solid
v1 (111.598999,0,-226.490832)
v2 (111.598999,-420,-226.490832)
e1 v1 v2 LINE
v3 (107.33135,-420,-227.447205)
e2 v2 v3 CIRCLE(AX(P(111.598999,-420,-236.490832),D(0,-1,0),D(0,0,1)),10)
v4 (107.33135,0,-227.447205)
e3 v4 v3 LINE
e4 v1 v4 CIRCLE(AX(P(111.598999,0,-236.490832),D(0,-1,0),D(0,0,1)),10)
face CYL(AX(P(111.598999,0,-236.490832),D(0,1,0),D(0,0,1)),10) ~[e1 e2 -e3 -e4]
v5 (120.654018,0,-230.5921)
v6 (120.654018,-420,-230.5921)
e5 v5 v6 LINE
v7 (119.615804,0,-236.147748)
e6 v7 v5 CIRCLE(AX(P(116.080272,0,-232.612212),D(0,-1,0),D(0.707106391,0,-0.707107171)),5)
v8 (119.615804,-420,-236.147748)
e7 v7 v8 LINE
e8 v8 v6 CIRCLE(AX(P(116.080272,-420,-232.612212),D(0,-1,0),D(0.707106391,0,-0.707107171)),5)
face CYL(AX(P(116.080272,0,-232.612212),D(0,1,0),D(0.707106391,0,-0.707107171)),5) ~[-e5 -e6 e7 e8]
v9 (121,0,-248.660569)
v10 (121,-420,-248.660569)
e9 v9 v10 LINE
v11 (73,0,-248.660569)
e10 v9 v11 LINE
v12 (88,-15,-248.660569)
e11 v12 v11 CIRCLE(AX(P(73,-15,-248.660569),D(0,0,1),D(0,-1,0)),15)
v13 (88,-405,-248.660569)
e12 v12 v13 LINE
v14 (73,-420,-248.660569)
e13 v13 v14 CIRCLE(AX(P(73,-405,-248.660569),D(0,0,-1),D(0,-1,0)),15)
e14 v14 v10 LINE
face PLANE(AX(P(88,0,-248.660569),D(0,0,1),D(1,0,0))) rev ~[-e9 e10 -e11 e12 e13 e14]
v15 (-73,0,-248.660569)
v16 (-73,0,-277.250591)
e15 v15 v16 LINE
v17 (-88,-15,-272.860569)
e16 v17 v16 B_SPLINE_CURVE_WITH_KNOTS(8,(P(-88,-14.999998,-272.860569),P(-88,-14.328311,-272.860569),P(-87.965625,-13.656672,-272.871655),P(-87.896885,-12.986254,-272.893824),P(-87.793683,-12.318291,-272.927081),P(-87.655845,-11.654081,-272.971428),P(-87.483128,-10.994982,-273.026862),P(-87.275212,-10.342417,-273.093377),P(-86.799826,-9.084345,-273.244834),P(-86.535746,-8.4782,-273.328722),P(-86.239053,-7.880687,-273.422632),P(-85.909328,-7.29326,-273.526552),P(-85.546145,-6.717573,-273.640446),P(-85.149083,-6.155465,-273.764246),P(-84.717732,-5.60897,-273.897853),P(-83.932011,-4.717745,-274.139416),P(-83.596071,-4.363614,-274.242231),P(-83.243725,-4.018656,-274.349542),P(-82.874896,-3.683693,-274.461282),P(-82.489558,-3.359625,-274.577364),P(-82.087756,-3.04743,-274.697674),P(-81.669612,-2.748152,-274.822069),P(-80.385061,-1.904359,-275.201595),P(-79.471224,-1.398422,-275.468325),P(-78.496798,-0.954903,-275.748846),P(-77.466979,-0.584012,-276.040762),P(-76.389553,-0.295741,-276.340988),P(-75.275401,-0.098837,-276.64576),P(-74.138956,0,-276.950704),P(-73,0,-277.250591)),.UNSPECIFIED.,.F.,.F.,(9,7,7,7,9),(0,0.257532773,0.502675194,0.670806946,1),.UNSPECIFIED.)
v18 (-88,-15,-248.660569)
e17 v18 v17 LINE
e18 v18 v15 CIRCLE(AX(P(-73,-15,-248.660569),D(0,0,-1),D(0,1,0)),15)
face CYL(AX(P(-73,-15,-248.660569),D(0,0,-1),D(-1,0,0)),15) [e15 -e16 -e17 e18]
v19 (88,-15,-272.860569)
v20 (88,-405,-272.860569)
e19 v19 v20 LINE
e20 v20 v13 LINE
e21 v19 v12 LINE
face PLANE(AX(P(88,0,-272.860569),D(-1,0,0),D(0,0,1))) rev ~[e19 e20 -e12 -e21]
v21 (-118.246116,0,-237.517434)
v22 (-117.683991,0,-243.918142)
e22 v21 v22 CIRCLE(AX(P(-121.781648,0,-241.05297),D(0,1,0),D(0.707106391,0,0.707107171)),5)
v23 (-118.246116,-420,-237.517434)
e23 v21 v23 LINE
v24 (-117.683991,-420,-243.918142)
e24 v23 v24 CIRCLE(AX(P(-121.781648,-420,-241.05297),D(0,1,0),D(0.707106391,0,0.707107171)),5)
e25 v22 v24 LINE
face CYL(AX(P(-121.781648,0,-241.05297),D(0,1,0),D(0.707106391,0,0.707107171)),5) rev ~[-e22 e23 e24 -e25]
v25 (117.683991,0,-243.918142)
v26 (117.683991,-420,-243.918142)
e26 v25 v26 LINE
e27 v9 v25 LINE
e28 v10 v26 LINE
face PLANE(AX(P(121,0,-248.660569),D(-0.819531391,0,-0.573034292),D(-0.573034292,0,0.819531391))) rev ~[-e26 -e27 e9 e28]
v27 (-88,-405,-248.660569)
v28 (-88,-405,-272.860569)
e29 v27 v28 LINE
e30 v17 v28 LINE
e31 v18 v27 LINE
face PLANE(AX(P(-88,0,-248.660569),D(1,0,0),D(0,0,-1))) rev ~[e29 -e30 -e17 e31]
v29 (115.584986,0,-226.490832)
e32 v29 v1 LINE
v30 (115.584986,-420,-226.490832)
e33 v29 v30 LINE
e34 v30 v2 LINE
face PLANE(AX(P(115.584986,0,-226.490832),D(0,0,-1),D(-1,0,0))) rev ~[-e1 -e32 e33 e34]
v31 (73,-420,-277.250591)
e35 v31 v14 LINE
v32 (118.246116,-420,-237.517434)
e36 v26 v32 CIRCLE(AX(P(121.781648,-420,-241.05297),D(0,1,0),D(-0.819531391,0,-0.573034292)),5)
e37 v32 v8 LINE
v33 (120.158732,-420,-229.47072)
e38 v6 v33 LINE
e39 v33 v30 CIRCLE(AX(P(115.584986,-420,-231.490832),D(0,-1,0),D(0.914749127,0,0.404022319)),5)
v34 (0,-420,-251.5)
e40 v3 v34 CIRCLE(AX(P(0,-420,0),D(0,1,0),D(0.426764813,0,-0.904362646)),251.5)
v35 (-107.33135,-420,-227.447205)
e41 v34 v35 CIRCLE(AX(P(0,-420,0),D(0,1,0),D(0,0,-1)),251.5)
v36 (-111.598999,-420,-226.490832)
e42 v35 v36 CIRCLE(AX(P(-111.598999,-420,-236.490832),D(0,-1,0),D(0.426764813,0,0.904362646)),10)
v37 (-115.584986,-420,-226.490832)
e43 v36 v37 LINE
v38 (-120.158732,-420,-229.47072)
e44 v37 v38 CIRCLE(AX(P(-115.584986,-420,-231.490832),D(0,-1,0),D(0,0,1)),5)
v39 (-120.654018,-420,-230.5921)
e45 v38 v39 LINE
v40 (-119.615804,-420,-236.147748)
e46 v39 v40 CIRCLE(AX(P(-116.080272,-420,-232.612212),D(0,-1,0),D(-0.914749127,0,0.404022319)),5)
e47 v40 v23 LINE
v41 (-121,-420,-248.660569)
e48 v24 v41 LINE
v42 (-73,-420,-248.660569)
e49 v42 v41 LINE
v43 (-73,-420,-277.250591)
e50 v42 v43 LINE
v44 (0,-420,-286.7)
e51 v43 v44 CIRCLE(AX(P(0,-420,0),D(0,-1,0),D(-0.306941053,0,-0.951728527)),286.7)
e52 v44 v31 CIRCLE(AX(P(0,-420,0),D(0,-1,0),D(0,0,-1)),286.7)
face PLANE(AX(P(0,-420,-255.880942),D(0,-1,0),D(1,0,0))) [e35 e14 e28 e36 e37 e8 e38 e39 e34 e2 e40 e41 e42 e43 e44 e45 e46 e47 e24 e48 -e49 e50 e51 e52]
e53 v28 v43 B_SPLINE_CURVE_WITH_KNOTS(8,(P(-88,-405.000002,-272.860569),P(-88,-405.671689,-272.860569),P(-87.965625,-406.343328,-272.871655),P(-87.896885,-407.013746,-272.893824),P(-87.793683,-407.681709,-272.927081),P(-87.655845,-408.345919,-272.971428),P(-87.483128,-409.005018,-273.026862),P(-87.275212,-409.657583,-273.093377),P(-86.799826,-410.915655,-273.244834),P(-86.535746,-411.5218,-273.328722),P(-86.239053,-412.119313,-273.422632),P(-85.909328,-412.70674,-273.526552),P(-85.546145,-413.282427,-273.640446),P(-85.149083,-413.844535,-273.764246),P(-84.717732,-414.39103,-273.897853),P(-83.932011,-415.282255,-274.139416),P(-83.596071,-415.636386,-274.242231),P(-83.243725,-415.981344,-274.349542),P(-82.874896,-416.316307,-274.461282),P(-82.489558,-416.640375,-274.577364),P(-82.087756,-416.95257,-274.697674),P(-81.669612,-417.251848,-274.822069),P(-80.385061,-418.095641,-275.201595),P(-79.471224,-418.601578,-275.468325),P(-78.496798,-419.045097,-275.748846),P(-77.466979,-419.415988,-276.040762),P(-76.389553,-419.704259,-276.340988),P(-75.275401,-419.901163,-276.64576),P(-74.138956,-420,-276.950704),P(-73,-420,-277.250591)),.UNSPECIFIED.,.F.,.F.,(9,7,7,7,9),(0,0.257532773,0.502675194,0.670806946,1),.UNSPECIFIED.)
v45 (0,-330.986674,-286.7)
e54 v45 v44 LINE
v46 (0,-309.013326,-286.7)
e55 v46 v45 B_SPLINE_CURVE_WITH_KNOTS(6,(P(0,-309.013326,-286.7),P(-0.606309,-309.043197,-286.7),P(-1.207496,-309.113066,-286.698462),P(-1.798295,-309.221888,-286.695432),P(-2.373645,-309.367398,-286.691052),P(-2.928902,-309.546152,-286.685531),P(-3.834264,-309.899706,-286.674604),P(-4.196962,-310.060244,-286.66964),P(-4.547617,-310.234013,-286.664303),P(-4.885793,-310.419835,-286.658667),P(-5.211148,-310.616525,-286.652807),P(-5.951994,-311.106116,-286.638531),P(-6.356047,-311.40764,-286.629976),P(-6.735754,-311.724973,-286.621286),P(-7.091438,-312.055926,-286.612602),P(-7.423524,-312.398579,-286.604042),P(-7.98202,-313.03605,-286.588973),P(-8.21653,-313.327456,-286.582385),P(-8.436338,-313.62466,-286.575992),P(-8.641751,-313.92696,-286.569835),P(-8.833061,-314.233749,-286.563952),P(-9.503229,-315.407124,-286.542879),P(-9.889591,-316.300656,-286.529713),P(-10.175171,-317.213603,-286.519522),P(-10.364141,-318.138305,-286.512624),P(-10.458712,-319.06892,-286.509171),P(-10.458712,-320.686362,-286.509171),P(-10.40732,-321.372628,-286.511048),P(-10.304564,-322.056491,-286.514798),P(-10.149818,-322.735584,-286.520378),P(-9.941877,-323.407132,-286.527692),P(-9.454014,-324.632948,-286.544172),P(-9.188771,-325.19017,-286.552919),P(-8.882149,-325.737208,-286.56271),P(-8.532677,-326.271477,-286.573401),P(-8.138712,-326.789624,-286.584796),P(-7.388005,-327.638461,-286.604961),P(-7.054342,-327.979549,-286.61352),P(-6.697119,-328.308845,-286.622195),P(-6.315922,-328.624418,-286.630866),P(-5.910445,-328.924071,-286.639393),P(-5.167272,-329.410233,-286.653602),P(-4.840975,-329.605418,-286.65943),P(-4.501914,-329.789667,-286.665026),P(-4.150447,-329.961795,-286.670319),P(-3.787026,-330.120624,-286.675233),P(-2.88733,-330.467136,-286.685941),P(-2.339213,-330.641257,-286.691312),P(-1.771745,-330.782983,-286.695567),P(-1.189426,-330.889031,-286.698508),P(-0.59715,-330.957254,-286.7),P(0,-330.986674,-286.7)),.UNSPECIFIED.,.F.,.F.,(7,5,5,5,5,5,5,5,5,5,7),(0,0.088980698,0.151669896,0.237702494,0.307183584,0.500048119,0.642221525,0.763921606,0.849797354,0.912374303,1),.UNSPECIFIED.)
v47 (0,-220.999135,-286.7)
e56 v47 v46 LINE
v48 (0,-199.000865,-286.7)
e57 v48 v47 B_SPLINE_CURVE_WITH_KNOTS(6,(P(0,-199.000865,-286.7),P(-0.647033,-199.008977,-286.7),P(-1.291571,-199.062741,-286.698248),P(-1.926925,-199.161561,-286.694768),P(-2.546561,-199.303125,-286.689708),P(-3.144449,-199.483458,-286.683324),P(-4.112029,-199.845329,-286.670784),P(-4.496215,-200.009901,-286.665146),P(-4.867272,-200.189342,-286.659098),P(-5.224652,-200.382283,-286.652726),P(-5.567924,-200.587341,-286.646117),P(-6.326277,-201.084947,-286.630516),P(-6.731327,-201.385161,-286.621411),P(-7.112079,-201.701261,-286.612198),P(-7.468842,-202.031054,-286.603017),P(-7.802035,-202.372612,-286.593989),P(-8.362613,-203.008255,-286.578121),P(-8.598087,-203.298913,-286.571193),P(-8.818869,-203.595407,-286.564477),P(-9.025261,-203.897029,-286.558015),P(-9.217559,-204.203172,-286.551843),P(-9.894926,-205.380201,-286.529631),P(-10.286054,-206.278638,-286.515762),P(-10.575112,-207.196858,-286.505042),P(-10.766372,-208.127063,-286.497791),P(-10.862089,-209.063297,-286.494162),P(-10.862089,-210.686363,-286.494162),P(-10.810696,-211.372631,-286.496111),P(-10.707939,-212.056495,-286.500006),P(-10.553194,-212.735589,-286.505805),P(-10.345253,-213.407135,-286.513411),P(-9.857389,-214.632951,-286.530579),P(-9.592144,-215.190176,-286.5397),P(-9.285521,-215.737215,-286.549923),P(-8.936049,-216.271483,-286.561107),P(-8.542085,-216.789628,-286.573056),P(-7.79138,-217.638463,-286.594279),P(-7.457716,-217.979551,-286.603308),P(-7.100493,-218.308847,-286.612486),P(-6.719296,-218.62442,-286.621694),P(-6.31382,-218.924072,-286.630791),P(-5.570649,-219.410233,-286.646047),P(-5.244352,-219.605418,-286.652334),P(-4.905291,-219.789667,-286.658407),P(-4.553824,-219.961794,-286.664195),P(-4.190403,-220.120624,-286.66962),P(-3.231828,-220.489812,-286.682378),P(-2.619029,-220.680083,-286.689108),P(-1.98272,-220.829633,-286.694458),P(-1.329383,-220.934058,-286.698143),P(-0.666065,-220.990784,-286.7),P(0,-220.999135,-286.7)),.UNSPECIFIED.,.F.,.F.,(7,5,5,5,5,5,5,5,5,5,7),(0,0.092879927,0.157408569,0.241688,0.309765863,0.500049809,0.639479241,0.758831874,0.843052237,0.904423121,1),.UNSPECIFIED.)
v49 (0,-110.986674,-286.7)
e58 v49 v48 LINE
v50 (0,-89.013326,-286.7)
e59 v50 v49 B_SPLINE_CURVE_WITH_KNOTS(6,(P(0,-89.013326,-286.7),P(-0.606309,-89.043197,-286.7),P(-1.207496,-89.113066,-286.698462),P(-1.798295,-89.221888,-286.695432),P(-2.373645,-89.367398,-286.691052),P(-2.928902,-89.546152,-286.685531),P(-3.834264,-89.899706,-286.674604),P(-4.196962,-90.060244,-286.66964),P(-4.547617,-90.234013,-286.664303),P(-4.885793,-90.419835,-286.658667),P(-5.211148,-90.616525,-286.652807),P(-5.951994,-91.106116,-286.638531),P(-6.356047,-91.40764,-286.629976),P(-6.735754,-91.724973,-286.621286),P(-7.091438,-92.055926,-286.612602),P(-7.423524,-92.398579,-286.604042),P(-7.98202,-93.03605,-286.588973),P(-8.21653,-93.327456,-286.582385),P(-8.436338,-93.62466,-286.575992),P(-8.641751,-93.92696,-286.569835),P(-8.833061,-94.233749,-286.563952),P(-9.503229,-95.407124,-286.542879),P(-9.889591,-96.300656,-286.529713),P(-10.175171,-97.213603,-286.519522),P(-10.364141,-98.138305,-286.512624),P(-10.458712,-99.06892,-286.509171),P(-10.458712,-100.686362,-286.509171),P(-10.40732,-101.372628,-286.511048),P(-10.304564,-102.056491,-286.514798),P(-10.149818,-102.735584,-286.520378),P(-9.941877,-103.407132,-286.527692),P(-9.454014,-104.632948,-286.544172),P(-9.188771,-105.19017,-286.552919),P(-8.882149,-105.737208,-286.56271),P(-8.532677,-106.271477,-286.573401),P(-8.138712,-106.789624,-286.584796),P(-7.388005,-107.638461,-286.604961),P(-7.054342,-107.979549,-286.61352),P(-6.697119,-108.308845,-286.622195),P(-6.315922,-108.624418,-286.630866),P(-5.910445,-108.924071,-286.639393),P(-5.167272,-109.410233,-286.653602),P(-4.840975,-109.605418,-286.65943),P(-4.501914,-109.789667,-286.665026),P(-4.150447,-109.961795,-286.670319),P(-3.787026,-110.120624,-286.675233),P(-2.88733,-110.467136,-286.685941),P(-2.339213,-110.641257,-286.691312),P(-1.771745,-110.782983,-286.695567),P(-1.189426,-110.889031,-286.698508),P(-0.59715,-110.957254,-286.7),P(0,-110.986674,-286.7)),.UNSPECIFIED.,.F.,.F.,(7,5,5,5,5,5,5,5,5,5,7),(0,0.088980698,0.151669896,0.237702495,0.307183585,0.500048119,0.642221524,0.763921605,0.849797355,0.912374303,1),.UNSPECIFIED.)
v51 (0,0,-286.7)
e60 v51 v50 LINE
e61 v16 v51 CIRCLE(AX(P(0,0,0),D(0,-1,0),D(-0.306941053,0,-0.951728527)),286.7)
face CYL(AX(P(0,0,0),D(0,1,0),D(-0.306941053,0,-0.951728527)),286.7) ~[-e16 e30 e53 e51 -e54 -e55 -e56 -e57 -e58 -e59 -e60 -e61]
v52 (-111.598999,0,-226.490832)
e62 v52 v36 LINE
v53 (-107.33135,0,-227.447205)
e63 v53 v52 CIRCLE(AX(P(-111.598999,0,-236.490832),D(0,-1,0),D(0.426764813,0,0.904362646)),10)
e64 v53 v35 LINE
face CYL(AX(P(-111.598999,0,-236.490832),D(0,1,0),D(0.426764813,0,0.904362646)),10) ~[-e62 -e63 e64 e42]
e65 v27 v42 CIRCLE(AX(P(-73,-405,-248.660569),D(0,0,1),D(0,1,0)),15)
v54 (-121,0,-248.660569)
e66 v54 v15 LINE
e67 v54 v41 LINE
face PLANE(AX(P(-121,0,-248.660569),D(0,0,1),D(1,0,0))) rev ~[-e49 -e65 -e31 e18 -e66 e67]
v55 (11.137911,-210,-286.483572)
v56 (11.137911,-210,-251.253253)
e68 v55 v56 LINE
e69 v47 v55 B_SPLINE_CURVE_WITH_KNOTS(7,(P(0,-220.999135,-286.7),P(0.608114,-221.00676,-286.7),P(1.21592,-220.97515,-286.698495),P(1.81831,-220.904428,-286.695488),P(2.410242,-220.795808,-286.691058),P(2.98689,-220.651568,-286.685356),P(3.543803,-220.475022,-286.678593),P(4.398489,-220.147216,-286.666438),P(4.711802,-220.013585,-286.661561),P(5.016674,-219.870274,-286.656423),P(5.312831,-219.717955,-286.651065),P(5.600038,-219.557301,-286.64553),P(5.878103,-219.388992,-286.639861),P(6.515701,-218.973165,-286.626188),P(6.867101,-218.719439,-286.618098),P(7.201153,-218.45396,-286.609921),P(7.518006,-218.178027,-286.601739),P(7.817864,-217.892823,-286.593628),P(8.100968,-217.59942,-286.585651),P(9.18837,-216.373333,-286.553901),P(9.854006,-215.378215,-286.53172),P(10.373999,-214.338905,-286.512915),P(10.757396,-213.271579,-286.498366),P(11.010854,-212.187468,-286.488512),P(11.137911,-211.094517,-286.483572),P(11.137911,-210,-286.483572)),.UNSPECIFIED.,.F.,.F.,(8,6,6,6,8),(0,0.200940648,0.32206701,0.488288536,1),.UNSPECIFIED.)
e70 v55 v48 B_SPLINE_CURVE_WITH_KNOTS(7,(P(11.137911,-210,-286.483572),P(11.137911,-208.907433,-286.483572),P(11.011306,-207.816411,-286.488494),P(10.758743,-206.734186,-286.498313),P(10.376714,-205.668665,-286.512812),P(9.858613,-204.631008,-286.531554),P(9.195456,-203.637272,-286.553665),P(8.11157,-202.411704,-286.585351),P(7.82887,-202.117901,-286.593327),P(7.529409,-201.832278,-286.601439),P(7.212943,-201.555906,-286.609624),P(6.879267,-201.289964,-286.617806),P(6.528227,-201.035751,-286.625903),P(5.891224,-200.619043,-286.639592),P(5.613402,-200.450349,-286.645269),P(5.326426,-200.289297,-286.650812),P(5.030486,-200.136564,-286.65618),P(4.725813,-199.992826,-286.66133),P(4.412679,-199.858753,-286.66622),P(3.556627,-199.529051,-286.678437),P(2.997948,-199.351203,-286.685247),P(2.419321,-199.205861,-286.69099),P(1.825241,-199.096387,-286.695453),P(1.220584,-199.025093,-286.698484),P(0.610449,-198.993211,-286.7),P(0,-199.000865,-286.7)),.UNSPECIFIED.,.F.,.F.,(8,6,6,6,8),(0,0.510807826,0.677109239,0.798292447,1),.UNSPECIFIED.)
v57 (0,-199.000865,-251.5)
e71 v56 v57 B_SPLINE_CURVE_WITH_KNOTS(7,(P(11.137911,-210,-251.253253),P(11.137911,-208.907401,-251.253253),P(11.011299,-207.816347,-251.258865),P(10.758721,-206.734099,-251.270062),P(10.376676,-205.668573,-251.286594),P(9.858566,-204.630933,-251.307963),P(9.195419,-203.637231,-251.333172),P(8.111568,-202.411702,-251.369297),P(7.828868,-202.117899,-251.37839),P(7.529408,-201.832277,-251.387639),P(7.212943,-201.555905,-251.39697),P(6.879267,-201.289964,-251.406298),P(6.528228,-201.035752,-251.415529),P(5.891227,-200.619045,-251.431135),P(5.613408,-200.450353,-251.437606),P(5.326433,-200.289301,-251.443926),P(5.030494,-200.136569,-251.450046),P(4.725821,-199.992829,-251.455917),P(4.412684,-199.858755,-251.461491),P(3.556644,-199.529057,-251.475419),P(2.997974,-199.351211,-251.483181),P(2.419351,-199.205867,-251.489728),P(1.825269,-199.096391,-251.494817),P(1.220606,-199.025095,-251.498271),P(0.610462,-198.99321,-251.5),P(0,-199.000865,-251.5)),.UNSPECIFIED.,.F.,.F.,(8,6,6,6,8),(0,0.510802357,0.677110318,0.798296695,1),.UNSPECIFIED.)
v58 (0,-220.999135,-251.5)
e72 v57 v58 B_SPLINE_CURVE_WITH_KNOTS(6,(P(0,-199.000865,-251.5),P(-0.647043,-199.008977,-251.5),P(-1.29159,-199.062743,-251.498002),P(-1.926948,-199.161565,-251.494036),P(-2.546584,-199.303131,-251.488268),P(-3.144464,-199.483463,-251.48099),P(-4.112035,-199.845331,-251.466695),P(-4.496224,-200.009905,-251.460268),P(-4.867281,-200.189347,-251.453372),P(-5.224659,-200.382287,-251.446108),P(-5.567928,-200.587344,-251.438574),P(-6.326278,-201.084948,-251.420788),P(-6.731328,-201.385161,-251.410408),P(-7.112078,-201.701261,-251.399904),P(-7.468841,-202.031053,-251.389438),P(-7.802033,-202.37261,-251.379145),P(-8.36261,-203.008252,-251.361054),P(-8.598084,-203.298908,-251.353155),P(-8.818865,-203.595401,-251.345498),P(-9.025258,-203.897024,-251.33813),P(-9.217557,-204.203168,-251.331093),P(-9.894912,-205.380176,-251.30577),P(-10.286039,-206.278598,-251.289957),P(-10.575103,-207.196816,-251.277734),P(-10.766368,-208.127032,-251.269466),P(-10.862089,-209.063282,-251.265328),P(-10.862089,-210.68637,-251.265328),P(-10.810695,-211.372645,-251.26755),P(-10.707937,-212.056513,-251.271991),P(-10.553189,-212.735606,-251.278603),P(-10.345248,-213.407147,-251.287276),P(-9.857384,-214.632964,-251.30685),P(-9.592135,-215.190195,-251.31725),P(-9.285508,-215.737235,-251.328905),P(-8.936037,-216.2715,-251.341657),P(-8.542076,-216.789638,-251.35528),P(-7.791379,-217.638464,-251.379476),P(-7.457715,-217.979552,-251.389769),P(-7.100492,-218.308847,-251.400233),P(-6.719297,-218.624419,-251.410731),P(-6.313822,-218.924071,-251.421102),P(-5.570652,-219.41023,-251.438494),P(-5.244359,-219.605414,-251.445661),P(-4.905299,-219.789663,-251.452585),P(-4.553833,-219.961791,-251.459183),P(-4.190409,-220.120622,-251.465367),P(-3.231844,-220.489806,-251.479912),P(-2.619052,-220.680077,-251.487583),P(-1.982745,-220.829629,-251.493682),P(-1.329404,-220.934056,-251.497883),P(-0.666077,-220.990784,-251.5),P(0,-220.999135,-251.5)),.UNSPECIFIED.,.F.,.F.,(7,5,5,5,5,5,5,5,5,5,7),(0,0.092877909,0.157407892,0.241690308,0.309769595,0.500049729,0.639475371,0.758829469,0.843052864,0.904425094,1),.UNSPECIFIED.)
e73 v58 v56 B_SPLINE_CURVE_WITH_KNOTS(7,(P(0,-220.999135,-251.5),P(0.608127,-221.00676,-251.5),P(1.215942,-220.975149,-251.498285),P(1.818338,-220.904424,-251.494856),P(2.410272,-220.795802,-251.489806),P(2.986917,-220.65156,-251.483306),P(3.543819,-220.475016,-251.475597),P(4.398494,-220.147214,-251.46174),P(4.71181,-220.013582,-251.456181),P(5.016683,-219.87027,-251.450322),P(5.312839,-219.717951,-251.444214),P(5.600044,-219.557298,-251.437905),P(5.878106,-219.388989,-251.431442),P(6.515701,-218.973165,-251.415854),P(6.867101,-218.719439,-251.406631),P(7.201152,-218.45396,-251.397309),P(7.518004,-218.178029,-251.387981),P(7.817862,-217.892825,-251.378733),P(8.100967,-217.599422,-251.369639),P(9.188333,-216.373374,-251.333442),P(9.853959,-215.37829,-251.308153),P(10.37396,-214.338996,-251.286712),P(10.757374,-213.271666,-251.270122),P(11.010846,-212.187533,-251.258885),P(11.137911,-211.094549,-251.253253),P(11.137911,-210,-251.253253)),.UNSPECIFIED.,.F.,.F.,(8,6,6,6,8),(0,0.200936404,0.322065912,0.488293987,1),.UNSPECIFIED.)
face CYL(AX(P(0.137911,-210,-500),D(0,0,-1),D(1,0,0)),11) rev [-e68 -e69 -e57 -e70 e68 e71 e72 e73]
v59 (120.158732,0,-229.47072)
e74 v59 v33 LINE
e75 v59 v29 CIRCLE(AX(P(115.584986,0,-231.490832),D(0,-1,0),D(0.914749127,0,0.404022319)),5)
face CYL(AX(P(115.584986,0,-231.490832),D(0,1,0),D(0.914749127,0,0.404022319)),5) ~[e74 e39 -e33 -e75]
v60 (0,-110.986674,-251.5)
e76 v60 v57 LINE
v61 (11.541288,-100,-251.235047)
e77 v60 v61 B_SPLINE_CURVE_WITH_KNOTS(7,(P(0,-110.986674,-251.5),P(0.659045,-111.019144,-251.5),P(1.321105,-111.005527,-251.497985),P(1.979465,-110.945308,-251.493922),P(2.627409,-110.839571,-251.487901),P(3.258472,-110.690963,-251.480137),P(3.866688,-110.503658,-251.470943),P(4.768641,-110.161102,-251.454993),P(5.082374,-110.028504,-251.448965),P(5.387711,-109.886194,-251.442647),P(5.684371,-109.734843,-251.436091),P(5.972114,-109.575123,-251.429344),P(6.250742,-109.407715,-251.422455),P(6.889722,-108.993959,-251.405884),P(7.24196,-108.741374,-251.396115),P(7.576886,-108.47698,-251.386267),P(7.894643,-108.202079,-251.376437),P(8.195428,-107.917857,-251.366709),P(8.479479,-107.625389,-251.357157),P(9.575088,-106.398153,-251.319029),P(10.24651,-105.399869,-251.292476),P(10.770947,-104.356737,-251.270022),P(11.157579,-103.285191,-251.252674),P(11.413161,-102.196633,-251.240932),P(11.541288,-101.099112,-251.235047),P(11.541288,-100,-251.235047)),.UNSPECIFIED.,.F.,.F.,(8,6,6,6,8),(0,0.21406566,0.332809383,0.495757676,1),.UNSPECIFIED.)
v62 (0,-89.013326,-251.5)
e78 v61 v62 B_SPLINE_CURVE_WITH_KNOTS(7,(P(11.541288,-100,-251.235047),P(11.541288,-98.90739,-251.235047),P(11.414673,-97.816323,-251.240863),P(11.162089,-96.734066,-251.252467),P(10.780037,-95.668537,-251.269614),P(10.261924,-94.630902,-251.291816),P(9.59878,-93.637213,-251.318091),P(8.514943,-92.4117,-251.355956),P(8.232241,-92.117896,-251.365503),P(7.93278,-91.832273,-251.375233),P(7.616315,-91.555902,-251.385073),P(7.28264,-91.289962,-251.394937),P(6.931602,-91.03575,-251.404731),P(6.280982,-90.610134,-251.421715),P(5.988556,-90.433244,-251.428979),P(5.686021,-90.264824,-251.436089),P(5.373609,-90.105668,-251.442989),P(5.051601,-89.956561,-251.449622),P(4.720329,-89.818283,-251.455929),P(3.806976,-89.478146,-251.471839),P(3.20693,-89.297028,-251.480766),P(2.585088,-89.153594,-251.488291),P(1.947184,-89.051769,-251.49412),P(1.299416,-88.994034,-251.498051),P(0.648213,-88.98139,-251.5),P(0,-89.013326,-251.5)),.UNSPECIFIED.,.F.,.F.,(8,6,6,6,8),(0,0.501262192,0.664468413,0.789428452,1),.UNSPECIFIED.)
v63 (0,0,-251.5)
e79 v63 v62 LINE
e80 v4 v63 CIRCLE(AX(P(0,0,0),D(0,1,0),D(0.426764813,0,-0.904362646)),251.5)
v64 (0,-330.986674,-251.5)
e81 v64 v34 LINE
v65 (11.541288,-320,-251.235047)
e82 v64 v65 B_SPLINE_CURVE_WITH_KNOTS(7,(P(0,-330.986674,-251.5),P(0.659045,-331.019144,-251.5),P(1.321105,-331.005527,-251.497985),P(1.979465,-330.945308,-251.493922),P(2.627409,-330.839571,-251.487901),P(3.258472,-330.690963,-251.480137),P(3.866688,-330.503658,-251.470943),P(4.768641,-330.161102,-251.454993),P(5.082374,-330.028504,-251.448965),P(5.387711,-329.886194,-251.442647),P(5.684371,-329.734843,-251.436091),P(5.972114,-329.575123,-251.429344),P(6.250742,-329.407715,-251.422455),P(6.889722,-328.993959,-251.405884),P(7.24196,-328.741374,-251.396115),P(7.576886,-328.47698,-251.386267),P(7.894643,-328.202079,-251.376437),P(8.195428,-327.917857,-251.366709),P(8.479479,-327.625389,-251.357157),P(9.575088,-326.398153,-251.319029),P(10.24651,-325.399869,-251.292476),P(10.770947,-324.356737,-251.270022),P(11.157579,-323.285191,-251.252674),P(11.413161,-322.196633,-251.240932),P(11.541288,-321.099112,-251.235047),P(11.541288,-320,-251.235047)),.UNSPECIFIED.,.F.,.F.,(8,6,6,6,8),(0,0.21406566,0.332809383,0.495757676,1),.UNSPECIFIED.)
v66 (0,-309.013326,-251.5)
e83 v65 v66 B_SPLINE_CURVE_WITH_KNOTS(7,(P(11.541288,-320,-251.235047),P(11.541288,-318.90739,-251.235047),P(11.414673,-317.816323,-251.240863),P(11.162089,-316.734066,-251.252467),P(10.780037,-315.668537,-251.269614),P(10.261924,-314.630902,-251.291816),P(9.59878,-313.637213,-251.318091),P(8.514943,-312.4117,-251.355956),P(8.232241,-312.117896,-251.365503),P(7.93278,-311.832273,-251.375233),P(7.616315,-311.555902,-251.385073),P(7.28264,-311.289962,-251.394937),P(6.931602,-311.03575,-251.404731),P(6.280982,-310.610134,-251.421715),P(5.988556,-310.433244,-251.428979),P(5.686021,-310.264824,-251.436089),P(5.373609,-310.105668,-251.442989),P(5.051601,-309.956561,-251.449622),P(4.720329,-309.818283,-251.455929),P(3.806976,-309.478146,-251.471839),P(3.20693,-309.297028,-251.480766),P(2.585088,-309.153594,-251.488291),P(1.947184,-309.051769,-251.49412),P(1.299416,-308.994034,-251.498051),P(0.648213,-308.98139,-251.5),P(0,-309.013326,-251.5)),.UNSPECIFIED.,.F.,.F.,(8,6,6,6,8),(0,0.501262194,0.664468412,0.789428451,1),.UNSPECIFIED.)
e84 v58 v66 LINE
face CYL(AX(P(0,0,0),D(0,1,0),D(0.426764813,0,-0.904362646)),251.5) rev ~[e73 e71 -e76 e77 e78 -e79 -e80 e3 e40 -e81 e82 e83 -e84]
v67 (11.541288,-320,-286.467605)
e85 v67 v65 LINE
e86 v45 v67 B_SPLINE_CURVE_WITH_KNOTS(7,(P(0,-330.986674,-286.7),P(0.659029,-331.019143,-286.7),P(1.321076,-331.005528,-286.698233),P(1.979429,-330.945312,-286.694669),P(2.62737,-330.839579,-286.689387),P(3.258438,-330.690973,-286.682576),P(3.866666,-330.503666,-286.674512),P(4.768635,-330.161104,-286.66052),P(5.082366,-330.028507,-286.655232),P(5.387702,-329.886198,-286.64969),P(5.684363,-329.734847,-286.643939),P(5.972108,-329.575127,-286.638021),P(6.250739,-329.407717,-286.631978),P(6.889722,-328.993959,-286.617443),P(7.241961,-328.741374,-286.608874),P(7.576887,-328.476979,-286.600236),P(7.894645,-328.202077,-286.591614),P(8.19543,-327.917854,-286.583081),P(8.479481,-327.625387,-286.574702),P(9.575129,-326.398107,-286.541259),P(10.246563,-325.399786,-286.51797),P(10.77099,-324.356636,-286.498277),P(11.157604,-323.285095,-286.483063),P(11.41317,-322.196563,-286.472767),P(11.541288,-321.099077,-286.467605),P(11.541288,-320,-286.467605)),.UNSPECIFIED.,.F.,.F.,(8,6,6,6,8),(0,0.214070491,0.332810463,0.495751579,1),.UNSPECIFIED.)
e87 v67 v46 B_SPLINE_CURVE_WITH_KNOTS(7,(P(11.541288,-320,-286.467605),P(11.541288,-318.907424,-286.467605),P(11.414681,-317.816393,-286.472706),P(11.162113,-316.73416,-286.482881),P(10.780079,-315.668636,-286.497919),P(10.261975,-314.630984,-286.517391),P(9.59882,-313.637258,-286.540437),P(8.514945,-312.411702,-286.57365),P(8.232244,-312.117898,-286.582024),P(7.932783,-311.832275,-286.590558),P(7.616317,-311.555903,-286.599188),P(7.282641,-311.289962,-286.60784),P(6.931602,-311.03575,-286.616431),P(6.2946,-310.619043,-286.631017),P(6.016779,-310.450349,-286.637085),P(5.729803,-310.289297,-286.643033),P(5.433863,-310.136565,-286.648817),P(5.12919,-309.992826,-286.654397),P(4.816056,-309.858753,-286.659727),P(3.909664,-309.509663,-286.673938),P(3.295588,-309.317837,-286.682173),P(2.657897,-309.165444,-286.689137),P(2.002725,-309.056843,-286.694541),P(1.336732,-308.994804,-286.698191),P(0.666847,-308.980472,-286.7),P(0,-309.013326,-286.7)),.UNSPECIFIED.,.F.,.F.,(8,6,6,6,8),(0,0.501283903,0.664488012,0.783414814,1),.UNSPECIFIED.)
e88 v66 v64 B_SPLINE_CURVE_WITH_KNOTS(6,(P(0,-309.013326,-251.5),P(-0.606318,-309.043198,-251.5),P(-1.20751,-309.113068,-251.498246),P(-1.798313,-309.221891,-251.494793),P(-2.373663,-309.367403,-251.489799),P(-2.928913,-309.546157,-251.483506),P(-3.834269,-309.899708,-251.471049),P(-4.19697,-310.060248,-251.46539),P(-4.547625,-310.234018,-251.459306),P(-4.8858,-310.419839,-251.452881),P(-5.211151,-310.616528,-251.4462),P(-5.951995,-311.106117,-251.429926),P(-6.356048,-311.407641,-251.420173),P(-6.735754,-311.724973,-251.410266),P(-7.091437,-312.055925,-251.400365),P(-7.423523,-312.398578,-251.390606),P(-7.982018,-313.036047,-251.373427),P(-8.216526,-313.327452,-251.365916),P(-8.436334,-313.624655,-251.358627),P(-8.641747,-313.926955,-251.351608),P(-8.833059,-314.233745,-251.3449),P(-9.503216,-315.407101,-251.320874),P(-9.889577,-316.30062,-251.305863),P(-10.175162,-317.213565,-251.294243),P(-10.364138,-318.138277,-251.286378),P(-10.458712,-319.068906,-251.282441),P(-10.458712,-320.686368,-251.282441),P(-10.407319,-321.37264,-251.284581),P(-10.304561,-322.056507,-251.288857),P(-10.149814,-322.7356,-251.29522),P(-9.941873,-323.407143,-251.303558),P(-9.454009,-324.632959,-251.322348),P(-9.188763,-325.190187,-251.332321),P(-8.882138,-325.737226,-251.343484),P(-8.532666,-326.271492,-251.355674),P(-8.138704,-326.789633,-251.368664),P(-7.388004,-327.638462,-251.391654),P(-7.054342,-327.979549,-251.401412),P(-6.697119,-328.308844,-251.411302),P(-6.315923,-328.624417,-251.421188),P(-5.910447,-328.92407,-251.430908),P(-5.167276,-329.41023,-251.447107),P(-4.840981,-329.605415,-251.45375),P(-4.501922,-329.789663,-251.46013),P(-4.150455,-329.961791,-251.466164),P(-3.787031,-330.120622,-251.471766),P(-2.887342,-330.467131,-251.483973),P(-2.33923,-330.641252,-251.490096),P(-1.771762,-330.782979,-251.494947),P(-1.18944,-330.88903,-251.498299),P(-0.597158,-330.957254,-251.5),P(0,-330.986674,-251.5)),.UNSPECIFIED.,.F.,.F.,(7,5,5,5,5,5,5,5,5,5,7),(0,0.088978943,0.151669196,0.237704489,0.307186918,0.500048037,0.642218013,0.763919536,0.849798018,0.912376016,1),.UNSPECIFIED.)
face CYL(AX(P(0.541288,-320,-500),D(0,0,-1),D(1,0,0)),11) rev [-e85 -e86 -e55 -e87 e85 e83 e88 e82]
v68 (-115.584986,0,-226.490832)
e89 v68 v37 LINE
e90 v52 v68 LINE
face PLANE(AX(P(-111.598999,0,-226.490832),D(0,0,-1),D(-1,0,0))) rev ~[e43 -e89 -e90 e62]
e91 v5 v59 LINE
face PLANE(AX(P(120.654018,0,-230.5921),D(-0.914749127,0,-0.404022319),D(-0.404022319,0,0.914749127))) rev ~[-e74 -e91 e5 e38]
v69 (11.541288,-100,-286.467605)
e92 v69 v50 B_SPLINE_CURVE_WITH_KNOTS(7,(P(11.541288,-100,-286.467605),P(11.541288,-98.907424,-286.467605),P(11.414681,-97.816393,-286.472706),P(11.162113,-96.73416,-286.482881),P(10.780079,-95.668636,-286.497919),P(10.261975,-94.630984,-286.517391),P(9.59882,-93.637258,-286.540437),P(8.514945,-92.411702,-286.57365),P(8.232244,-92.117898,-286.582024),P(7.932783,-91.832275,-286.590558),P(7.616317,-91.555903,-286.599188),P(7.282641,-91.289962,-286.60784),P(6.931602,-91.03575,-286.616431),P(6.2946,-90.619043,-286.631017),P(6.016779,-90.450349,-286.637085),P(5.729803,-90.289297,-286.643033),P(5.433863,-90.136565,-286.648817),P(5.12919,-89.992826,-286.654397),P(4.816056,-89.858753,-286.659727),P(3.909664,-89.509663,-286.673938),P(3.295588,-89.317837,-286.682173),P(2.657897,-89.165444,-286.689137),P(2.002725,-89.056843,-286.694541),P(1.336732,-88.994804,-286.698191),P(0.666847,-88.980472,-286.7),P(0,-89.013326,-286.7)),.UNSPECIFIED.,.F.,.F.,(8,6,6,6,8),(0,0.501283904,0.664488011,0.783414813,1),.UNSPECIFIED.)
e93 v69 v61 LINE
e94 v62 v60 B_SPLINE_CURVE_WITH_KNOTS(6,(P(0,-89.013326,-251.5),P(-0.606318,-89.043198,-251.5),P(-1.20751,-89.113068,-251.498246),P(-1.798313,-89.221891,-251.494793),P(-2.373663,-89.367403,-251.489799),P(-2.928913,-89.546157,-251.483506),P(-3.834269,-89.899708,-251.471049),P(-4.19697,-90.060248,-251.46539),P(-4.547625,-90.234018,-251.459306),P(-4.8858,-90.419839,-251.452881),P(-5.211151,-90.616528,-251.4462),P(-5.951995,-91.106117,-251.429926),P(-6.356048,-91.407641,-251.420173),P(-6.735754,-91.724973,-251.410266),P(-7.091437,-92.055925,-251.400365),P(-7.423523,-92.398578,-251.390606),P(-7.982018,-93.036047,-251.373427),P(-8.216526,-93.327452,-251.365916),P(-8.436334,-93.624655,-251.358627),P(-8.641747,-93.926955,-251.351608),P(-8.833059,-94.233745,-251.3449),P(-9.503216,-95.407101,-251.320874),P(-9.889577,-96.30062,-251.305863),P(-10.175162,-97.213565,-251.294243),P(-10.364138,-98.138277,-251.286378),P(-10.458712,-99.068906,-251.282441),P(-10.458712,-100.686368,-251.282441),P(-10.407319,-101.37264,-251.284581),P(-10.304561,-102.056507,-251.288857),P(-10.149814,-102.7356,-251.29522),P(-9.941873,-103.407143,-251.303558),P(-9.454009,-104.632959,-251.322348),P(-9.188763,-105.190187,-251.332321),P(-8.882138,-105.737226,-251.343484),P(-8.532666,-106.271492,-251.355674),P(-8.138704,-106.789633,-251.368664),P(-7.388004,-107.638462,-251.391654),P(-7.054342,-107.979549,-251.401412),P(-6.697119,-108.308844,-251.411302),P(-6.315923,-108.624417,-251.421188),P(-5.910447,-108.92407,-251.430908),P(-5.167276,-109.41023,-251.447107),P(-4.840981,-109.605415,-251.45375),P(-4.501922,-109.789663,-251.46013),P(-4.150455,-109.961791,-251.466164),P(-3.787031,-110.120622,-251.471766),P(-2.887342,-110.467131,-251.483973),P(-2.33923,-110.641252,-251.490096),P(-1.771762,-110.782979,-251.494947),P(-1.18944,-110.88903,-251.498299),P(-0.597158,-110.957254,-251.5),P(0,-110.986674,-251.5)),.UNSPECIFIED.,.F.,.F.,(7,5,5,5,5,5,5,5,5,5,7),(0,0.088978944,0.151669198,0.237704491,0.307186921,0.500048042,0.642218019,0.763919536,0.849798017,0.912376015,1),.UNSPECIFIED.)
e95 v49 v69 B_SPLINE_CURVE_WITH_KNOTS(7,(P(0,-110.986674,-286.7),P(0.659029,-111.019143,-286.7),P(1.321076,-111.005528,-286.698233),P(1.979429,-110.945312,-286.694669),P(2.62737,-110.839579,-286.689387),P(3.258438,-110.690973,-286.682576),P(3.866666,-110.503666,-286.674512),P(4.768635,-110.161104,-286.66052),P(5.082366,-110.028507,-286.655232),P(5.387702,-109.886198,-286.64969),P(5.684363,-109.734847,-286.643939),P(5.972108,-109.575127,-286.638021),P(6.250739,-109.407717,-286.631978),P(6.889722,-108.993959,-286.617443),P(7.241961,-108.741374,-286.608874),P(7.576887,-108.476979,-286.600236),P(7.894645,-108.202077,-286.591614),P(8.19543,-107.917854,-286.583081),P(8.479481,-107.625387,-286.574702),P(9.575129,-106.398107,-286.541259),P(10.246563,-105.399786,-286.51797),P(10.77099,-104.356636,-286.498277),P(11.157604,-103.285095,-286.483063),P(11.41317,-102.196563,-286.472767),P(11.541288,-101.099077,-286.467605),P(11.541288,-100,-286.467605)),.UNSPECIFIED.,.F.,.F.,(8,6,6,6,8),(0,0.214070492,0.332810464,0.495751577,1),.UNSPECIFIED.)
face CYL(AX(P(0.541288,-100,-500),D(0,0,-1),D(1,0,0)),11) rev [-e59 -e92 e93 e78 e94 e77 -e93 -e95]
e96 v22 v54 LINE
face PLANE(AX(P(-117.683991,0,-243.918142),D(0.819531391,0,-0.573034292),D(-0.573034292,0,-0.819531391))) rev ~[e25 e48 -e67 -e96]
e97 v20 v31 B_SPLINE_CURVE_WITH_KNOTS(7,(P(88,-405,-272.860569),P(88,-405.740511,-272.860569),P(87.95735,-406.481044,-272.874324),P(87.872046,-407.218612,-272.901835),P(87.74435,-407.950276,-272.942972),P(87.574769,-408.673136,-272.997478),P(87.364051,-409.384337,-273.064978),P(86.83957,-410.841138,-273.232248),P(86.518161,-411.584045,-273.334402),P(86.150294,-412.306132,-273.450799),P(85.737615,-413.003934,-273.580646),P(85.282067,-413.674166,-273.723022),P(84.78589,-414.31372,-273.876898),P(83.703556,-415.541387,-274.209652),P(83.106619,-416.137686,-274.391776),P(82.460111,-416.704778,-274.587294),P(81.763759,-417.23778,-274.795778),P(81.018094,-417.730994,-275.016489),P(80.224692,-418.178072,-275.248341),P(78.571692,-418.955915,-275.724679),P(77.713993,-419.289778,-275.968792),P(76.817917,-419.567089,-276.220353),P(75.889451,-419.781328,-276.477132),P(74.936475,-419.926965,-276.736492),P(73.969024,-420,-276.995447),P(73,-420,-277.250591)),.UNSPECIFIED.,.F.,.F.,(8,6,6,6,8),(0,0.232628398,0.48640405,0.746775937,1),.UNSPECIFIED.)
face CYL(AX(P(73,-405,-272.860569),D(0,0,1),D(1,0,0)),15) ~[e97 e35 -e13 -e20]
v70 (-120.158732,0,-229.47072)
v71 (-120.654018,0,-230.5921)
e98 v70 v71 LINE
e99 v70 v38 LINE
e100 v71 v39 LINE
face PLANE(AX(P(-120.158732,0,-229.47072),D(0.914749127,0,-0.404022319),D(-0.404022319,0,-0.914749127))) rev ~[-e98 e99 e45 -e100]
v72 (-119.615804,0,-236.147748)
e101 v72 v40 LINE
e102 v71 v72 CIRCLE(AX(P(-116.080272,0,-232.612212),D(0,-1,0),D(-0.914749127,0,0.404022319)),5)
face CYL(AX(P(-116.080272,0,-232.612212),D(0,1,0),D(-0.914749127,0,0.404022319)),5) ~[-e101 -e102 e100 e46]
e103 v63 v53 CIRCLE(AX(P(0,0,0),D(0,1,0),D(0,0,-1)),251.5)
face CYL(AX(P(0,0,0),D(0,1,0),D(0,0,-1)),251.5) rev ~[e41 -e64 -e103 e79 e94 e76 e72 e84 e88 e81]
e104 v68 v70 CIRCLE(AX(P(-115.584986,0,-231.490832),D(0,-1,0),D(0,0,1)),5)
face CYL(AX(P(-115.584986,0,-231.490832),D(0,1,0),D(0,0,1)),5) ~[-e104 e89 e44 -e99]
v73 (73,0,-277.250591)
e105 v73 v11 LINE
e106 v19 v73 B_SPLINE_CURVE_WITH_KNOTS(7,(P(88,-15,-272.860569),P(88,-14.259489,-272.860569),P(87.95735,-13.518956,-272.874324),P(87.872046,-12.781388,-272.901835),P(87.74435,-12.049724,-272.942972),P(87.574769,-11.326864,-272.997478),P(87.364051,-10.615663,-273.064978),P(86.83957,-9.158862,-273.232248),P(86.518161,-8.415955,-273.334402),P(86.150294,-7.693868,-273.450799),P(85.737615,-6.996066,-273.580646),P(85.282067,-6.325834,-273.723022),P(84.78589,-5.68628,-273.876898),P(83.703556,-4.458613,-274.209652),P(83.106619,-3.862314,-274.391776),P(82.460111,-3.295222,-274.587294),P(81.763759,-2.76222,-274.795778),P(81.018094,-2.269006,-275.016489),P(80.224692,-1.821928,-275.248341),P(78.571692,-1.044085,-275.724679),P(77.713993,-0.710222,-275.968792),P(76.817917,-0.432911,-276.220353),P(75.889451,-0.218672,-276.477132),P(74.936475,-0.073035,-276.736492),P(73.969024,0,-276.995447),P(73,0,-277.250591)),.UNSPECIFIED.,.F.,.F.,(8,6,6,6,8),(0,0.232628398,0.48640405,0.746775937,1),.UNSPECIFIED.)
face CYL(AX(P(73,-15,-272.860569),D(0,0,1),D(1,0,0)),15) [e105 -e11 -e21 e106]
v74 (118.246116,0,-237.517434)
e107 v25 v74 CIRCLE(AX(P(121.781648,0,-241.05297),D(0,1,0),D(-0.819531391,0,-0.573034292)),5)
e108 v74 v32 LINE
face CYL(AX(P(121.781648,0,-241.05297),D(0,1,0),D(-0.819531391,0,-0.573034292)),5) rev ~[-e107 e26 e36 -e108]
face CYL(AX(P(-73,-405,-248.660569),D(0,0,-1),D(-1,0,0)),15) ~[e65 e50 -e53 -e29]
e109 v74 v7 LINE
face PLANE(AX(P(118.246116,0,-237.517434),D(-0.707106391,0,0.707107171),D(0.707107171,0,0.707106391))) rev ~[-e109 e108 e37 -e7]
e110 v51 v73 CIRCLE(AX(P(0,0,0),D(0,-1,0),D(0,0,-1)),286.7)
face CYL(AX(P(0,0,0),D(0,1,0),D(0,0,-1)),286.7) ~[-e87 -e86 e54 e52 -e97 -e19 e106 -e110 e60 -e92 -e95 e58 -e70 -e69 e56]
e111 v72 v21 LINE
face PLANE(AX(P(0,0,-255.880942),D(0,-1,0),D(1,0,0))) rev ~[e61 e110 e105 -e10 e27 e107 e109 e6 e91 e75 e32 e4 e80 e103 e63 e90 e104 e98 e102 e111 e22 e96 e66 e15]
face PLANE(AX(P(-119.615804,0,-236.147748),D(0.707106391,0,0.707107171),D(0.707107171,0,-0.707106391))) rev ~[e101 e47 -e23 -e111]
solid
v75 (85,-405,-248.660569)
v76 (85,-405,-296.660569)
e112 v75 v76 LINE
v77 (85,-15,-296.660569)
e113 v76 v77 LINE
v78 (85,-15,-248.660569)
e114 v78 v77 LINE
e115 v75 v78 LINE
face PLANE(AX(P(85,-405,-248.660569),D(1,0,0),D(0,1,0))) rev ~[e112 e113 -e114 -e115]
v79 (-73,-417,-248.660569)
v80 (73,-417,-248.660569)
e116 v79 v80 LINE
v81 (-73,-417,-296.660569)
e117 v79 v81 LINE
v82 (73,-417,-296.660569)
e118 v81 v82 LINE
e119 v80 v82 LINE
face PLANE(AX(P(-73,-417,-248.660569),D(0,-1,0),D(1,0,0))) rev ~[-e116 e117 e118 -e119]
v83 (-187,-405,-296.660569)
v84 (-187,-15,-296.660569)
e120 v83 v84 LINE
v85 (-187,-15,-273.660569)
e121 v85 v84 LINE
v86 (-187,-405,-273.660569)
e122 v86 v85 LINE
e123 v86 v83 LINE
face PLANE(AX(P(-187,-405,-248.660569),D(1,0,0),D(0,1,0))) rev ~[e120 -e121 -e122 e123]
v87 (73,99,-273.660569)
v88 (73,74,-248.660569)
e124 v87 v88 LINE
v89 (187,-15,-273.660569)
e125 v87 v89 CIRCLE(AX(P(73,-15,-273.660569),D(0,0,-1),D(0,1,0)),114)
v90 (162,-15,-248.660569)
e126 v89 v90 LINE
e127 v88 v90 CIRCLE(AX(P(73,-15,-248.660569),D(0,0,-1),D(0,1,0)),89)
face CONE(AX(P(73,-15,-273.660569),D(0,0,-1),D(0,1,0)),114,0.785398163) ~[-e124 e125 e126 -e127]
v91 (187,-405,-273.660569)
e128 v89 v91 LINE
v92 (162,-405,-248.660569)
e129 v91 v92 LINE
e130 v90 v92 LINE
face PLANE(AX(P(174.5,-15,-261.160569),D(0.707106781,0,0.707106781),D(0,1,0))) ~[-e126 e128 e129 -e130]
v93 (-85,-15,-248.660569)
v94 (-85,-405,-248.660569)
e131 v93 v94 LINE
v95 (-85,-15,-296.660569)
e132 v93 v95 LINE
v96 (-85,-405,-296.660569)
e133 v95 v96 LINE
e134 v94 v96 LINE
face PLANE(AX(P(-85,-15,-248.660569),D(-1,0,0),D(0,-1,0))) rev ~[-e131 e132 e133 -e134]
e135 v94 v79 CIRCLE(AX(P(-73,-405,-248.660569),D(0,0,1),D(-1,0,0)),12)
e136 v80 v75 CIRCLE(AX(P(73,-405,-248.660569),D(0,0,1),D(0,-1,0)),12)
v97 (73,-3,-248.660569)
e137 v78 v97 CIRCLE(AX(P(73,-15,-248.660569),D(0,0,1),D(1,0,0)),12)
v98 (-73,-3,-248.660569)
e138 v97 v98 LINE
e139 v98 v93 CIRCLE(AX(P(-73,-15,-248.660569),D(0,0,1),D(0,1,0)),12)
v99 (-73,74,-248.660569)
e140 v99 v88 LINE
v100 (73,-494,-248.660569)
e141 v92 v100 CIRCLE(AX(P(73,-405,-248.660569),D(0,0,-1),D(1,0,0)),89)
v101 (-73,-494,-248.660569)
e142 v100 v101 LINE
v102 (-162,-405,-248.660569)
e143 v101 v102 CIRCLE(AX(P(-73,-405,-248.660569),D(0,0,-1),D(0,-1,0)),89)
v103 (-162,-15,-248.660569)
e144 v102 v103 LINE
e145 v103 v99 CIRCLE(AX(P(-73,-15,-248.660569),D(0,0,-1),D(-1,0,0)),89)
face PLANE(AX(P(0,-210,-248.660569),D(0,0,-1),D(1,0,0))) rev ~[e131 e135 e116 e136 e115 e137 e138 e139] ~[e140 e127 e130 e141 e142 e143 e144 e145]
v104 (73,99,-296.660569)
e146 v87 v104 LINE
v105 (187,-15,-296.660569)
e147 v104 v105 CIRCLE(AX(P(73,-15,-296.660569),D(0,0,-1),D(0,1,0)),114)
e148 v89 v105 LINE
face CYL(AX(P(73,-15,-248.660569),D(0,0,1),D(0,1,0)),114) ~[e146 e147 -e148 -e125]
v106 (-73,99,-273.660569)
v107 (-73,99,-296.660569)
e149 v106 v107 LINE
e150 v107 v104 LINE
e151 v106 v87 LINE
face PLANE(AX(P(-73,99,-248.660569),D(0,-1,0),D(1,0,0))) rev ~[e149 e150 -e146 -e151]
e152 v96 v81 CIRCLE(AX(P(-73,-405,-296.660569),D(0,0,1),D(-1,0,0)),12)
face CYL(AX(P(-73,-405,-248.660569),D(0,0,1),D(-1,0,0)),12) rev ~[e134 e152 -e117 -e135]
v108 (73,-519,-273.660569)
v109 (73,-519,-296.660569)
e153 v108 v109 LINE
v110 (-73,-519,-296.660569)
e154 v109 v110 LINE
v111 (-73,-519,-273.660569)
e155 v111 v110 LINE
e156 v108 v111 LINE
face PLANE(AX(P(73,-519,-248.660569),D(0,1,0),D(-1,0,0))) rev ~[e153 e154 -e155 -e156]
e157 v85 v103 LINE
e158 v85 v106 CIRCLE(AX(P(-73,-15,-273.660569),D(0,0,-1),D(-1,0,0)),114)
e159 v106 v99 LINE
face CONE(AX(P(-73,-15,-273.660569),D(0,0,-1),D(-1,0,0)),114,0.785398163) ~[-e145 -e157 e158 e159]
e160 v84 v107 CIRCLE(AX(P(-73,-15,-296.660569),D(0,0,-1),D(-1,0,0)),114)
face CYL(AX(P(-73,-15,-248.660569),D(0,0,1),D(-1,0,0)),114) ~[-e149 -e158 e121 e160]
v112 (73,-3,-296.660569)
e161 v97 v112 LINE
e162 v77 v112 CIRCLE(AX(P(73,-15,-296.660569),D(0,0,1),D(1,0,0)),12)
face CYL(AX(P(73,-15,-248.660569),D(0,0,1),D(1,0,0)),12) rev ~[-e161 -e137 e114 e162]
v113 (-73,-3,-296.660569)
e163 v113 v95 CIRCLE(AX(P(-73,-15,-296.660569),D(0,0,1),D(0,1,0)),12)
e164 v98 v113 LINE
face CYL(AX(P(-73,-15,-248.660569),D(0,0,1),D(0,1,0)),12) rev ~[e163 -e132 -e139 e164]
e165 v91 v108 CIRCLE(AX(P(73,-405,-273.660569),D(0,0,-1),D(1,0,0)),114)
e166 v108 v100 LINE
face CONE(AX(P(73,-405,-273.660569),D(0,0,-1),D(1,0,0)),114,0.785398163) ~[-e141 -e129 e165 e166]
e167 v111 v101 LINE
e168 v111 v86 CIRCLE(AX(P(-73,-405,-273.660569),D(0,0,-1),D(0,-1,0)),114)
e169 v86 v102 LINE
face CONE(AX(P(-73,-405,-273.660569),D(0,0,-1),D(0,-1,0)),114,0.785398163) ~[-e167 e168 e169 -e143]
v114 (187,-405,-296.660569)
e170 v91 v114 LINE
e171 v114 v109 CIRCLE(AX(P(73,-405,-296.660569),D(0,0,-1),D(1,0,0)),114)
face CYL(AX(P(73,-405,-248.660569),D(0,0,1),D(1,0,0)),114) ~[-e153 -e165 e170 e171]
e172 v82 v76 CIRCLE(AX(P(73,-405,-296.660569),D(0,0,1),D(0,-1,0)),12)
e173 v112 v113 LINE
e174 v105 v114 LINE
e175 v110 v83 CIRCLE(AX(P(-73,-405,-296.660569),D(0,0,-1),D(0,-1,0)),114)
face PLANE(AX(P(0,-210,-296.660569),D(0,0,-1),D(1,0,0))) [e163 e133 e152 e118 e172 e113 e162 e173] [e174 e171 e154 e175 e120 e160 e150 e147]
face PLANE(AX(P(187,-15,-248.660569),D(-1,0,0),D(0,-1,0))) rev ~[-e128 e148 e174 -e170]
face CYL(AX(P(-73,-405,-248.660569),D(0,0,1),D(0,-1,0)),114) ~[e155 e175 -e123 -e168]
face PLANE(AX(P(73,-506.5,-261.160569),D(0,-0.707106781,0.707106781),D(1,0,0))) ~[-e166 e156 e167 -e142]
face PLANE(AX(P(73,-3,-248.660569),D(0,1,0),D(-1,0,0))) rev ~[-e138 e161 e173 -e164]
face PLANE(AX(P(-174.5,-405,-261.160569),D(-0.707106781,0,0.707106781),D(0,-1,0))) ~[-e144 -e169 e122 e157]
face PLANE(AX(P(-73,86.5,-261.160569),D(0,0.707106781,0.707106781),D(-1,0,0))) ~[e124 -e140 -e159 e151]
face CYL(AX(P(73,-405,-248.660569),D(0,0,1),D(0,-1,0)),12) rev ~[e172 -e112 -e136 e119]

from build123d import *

# Parameters (mm, degrees)
F1_DEPTH = 420
F2_R     = 15
F4_R     = 11
F5_DEPTH = 267.30682
F7_DEPTH = 48
F8_SIZE  = 25


with BuildPart() as f1:
    # F0 (on Front) → F1 (new body)
    with BuildSketch(Plane.XZ):
        with BuildLine():
            ThreePointArc((107.3313503971, -227.4472053509), (54.9967174214, -245.4131436433), (0, -251.5))
            ThreePointArc((0, -251.5), (-54.9967174214, -245.4131436433), (-107.3313503971, -227.4472053509))
            ThreePointArc((-107.3313503971, -227.4472053509), (-109.4122503167, -226.7328539277), (-111.5989985243, -226.4908318062))
            Line((-111.5989985243, -226.4908318062), (-115.5849863759, -226.4908318062))
            ThreePointArc((-115.5849863759, -226.4908318062), (-118.314404082, -227.3015264955), (-120.1587320123, -229.4707202118))
            Line((-120.1587320123, -229.4707202118), (-120.6540180688, -230.5921000634))
            ThreePointArc((-120.6540180688, -230.5921000634), (-120.9951885473, -233.5306884315), (-119.615804389, -236.147747513))
            Line((-119.615804389, -236.147747513), (-118.2461160869, -237.5174343047))
            ThreePointArc((-118.2461160869, -237.5174343047), (-116.80081912, -240.6155421838), (-117.6839910893, -243.9181416183))
            Line((-117.6839910893, -243.9181416183), (-121, -248.6605687893))
            Line((-121, -248.6605687893), (-88, -248.6605687893))
            Line((-88, -248.6605687893), (-88, -272.8605687893))
            ThreePointArc((-88, -272.8605687893), (-44.5407955032, -283.2190098421), (0, -286.7))
            ThreePointArc((0, -286.7), (44.5407955032, -283.2190098421), (88, -272.8605687893))
            Line((88, -272.8605687893), (88, -248.6605687893))
            Line((88, -248.6605687893), (121, -248.6605687893))
            Line((121, -248.6605687893), (117.6839910893, -243.9181416183))
            ThreePointArc((117.6839910893, -243.9181416183), (116.80081912, -240.6155421838), (118.2461160869, -237.5174343047))
            Line((118.2461160869, -237.5174343047), (119.615804389, -236.147747513))
            ThreePointArc((119.615804389, -236.147747513), (120.9951885473, -233.5306884315), (120.6540180688, -230.5921000634))
            Line((120.6540180688, -230.5921000634), (120.1587320123, -229.4707202118))
            ThreePointArc((120.1587320123, -229.4707202118), (118.314404082, -227.3015264955), (115.5849863759, -226.4908318062))
            Line((115.5849863759, -226.4908318062), (111.5989985243, -226.4908318062))
            ThreePointArc((111.5989985243, -226.4908318062), (109.4122503167, -226.7328539277), (107.3313503971, -227.4472053509))
        make_face()
    extrude(amount=F1_DEPTH)

    # F2
    f2_edges = [f1.edges().sort_by_distance(p)[0] for p in [
        (88, -420, -260.760569),
        (-88, -420, -260.760569),
        (88, 0, -260.760569),
        (-88, 0, -260.760569),
    ]]
    fillet(f2_edges, radius=F2_R)

    # F4 (on offset) → F5 (cut)
    with BuildSketch(Plane.XY.offset(-500)):
        with Locations((0.5412878685, -100)):
            Circle(F4_R)
        with Locations((0.1379112946, -210)):
            Circle(F4_R)
        with Locations((0.5412878685, -320)):
            Circle(F4_R)
    extrude(amount=F5_DEPTH, mode=Mode.SUBTRACT)


with BuildPart() as f7:
    # F6 (on face) → F7 (new body)
    with BuildSketch(Plane(origin=(0, 0, -248.6605687893), x_dir=(1, 0, 0), z_dir=(0, 0, -1))):
        with BuildLine():
            Line((-187, 405), (-187, 15))
            ThreePointArc((-187, 15), (-153.6101730553, -65.6101730553), (-73, -99))
            Line((-73, -99), (73, -99))
            ThreePointArc((73, -99), (153.6101730553, -65.6101730553), (187, 15))
            Line((187, 15), (187, 405))
            ThreePointArc((187, 405), (153.6101730553, 485.6101730553), (73, 519))
            Line((73, 519), (-73, 519))
            ThreePointArc((-73, 519), (-153.6101730553, 485.6101730553), (-187, 405))
        make_face()
        with BuildLine():
            Line((-88, 405), (-88, 15))
            ThreePointArc((-88, 15), (-83.6066017178, 4.3933982822), (-73, 0))
            Line((-73, 0), (-121, 0))
            Line((-121, 0), (-121, 420))
            Line((-121, 420), (-73, 420))
            ThreePointArc((-73, 420), (-83.6066017178, 415.6066017178), (-88, 405))
        make_face(mode=Mode.SUBTRACT)
        with BuildLine():
            ThreePointArc((-73, 3), (-81.4852813742, 6.5147186258), (-85, 15))
            Line((-85, 15), (-85, 405))
            ThreePointArc((-85, 405), (-81.4852813742, 413.4852813742), (-73, 417))
            Line((-73, 417), (73, 417))
            ThreePointArc((73, 417), (81.4852813742, 413.4852813742), (85, 405))
            Line((85, 405), (85, 15))
            ThreePointArc((85, 15), (81.4852813742, 6.5147186258), (73, 3))
            Line((73, 3), (-73, 3))
        make_face(mode=Mode.SUBTRACT)
        with BuildLine():
            ThreePointArc((-73, 0), (-83.6066017178, 4.3933982822), (-88, 15))
            Line((-88, 15), (-88, 405))
            ThreePointArc((-88, 405), (-83.6066017178, 415.6066017178), (-73, 420))
            Line((-73, 420), (-121, 420))
            Line((-121, 420), (-121, 0))
            Line((-121, 0), (-73, 0))
        make_face()
    extrude(amount=F7_DEPTH)

    # F8
    f8_edges = [f7.edges().sort_by_distance(p)[0] for p in [
        (0, -519, -248.660569),
    ]]
    chamfer(f8_edges, length=F8_SIZE)


solid = Compound([f1.part, f7.part])
